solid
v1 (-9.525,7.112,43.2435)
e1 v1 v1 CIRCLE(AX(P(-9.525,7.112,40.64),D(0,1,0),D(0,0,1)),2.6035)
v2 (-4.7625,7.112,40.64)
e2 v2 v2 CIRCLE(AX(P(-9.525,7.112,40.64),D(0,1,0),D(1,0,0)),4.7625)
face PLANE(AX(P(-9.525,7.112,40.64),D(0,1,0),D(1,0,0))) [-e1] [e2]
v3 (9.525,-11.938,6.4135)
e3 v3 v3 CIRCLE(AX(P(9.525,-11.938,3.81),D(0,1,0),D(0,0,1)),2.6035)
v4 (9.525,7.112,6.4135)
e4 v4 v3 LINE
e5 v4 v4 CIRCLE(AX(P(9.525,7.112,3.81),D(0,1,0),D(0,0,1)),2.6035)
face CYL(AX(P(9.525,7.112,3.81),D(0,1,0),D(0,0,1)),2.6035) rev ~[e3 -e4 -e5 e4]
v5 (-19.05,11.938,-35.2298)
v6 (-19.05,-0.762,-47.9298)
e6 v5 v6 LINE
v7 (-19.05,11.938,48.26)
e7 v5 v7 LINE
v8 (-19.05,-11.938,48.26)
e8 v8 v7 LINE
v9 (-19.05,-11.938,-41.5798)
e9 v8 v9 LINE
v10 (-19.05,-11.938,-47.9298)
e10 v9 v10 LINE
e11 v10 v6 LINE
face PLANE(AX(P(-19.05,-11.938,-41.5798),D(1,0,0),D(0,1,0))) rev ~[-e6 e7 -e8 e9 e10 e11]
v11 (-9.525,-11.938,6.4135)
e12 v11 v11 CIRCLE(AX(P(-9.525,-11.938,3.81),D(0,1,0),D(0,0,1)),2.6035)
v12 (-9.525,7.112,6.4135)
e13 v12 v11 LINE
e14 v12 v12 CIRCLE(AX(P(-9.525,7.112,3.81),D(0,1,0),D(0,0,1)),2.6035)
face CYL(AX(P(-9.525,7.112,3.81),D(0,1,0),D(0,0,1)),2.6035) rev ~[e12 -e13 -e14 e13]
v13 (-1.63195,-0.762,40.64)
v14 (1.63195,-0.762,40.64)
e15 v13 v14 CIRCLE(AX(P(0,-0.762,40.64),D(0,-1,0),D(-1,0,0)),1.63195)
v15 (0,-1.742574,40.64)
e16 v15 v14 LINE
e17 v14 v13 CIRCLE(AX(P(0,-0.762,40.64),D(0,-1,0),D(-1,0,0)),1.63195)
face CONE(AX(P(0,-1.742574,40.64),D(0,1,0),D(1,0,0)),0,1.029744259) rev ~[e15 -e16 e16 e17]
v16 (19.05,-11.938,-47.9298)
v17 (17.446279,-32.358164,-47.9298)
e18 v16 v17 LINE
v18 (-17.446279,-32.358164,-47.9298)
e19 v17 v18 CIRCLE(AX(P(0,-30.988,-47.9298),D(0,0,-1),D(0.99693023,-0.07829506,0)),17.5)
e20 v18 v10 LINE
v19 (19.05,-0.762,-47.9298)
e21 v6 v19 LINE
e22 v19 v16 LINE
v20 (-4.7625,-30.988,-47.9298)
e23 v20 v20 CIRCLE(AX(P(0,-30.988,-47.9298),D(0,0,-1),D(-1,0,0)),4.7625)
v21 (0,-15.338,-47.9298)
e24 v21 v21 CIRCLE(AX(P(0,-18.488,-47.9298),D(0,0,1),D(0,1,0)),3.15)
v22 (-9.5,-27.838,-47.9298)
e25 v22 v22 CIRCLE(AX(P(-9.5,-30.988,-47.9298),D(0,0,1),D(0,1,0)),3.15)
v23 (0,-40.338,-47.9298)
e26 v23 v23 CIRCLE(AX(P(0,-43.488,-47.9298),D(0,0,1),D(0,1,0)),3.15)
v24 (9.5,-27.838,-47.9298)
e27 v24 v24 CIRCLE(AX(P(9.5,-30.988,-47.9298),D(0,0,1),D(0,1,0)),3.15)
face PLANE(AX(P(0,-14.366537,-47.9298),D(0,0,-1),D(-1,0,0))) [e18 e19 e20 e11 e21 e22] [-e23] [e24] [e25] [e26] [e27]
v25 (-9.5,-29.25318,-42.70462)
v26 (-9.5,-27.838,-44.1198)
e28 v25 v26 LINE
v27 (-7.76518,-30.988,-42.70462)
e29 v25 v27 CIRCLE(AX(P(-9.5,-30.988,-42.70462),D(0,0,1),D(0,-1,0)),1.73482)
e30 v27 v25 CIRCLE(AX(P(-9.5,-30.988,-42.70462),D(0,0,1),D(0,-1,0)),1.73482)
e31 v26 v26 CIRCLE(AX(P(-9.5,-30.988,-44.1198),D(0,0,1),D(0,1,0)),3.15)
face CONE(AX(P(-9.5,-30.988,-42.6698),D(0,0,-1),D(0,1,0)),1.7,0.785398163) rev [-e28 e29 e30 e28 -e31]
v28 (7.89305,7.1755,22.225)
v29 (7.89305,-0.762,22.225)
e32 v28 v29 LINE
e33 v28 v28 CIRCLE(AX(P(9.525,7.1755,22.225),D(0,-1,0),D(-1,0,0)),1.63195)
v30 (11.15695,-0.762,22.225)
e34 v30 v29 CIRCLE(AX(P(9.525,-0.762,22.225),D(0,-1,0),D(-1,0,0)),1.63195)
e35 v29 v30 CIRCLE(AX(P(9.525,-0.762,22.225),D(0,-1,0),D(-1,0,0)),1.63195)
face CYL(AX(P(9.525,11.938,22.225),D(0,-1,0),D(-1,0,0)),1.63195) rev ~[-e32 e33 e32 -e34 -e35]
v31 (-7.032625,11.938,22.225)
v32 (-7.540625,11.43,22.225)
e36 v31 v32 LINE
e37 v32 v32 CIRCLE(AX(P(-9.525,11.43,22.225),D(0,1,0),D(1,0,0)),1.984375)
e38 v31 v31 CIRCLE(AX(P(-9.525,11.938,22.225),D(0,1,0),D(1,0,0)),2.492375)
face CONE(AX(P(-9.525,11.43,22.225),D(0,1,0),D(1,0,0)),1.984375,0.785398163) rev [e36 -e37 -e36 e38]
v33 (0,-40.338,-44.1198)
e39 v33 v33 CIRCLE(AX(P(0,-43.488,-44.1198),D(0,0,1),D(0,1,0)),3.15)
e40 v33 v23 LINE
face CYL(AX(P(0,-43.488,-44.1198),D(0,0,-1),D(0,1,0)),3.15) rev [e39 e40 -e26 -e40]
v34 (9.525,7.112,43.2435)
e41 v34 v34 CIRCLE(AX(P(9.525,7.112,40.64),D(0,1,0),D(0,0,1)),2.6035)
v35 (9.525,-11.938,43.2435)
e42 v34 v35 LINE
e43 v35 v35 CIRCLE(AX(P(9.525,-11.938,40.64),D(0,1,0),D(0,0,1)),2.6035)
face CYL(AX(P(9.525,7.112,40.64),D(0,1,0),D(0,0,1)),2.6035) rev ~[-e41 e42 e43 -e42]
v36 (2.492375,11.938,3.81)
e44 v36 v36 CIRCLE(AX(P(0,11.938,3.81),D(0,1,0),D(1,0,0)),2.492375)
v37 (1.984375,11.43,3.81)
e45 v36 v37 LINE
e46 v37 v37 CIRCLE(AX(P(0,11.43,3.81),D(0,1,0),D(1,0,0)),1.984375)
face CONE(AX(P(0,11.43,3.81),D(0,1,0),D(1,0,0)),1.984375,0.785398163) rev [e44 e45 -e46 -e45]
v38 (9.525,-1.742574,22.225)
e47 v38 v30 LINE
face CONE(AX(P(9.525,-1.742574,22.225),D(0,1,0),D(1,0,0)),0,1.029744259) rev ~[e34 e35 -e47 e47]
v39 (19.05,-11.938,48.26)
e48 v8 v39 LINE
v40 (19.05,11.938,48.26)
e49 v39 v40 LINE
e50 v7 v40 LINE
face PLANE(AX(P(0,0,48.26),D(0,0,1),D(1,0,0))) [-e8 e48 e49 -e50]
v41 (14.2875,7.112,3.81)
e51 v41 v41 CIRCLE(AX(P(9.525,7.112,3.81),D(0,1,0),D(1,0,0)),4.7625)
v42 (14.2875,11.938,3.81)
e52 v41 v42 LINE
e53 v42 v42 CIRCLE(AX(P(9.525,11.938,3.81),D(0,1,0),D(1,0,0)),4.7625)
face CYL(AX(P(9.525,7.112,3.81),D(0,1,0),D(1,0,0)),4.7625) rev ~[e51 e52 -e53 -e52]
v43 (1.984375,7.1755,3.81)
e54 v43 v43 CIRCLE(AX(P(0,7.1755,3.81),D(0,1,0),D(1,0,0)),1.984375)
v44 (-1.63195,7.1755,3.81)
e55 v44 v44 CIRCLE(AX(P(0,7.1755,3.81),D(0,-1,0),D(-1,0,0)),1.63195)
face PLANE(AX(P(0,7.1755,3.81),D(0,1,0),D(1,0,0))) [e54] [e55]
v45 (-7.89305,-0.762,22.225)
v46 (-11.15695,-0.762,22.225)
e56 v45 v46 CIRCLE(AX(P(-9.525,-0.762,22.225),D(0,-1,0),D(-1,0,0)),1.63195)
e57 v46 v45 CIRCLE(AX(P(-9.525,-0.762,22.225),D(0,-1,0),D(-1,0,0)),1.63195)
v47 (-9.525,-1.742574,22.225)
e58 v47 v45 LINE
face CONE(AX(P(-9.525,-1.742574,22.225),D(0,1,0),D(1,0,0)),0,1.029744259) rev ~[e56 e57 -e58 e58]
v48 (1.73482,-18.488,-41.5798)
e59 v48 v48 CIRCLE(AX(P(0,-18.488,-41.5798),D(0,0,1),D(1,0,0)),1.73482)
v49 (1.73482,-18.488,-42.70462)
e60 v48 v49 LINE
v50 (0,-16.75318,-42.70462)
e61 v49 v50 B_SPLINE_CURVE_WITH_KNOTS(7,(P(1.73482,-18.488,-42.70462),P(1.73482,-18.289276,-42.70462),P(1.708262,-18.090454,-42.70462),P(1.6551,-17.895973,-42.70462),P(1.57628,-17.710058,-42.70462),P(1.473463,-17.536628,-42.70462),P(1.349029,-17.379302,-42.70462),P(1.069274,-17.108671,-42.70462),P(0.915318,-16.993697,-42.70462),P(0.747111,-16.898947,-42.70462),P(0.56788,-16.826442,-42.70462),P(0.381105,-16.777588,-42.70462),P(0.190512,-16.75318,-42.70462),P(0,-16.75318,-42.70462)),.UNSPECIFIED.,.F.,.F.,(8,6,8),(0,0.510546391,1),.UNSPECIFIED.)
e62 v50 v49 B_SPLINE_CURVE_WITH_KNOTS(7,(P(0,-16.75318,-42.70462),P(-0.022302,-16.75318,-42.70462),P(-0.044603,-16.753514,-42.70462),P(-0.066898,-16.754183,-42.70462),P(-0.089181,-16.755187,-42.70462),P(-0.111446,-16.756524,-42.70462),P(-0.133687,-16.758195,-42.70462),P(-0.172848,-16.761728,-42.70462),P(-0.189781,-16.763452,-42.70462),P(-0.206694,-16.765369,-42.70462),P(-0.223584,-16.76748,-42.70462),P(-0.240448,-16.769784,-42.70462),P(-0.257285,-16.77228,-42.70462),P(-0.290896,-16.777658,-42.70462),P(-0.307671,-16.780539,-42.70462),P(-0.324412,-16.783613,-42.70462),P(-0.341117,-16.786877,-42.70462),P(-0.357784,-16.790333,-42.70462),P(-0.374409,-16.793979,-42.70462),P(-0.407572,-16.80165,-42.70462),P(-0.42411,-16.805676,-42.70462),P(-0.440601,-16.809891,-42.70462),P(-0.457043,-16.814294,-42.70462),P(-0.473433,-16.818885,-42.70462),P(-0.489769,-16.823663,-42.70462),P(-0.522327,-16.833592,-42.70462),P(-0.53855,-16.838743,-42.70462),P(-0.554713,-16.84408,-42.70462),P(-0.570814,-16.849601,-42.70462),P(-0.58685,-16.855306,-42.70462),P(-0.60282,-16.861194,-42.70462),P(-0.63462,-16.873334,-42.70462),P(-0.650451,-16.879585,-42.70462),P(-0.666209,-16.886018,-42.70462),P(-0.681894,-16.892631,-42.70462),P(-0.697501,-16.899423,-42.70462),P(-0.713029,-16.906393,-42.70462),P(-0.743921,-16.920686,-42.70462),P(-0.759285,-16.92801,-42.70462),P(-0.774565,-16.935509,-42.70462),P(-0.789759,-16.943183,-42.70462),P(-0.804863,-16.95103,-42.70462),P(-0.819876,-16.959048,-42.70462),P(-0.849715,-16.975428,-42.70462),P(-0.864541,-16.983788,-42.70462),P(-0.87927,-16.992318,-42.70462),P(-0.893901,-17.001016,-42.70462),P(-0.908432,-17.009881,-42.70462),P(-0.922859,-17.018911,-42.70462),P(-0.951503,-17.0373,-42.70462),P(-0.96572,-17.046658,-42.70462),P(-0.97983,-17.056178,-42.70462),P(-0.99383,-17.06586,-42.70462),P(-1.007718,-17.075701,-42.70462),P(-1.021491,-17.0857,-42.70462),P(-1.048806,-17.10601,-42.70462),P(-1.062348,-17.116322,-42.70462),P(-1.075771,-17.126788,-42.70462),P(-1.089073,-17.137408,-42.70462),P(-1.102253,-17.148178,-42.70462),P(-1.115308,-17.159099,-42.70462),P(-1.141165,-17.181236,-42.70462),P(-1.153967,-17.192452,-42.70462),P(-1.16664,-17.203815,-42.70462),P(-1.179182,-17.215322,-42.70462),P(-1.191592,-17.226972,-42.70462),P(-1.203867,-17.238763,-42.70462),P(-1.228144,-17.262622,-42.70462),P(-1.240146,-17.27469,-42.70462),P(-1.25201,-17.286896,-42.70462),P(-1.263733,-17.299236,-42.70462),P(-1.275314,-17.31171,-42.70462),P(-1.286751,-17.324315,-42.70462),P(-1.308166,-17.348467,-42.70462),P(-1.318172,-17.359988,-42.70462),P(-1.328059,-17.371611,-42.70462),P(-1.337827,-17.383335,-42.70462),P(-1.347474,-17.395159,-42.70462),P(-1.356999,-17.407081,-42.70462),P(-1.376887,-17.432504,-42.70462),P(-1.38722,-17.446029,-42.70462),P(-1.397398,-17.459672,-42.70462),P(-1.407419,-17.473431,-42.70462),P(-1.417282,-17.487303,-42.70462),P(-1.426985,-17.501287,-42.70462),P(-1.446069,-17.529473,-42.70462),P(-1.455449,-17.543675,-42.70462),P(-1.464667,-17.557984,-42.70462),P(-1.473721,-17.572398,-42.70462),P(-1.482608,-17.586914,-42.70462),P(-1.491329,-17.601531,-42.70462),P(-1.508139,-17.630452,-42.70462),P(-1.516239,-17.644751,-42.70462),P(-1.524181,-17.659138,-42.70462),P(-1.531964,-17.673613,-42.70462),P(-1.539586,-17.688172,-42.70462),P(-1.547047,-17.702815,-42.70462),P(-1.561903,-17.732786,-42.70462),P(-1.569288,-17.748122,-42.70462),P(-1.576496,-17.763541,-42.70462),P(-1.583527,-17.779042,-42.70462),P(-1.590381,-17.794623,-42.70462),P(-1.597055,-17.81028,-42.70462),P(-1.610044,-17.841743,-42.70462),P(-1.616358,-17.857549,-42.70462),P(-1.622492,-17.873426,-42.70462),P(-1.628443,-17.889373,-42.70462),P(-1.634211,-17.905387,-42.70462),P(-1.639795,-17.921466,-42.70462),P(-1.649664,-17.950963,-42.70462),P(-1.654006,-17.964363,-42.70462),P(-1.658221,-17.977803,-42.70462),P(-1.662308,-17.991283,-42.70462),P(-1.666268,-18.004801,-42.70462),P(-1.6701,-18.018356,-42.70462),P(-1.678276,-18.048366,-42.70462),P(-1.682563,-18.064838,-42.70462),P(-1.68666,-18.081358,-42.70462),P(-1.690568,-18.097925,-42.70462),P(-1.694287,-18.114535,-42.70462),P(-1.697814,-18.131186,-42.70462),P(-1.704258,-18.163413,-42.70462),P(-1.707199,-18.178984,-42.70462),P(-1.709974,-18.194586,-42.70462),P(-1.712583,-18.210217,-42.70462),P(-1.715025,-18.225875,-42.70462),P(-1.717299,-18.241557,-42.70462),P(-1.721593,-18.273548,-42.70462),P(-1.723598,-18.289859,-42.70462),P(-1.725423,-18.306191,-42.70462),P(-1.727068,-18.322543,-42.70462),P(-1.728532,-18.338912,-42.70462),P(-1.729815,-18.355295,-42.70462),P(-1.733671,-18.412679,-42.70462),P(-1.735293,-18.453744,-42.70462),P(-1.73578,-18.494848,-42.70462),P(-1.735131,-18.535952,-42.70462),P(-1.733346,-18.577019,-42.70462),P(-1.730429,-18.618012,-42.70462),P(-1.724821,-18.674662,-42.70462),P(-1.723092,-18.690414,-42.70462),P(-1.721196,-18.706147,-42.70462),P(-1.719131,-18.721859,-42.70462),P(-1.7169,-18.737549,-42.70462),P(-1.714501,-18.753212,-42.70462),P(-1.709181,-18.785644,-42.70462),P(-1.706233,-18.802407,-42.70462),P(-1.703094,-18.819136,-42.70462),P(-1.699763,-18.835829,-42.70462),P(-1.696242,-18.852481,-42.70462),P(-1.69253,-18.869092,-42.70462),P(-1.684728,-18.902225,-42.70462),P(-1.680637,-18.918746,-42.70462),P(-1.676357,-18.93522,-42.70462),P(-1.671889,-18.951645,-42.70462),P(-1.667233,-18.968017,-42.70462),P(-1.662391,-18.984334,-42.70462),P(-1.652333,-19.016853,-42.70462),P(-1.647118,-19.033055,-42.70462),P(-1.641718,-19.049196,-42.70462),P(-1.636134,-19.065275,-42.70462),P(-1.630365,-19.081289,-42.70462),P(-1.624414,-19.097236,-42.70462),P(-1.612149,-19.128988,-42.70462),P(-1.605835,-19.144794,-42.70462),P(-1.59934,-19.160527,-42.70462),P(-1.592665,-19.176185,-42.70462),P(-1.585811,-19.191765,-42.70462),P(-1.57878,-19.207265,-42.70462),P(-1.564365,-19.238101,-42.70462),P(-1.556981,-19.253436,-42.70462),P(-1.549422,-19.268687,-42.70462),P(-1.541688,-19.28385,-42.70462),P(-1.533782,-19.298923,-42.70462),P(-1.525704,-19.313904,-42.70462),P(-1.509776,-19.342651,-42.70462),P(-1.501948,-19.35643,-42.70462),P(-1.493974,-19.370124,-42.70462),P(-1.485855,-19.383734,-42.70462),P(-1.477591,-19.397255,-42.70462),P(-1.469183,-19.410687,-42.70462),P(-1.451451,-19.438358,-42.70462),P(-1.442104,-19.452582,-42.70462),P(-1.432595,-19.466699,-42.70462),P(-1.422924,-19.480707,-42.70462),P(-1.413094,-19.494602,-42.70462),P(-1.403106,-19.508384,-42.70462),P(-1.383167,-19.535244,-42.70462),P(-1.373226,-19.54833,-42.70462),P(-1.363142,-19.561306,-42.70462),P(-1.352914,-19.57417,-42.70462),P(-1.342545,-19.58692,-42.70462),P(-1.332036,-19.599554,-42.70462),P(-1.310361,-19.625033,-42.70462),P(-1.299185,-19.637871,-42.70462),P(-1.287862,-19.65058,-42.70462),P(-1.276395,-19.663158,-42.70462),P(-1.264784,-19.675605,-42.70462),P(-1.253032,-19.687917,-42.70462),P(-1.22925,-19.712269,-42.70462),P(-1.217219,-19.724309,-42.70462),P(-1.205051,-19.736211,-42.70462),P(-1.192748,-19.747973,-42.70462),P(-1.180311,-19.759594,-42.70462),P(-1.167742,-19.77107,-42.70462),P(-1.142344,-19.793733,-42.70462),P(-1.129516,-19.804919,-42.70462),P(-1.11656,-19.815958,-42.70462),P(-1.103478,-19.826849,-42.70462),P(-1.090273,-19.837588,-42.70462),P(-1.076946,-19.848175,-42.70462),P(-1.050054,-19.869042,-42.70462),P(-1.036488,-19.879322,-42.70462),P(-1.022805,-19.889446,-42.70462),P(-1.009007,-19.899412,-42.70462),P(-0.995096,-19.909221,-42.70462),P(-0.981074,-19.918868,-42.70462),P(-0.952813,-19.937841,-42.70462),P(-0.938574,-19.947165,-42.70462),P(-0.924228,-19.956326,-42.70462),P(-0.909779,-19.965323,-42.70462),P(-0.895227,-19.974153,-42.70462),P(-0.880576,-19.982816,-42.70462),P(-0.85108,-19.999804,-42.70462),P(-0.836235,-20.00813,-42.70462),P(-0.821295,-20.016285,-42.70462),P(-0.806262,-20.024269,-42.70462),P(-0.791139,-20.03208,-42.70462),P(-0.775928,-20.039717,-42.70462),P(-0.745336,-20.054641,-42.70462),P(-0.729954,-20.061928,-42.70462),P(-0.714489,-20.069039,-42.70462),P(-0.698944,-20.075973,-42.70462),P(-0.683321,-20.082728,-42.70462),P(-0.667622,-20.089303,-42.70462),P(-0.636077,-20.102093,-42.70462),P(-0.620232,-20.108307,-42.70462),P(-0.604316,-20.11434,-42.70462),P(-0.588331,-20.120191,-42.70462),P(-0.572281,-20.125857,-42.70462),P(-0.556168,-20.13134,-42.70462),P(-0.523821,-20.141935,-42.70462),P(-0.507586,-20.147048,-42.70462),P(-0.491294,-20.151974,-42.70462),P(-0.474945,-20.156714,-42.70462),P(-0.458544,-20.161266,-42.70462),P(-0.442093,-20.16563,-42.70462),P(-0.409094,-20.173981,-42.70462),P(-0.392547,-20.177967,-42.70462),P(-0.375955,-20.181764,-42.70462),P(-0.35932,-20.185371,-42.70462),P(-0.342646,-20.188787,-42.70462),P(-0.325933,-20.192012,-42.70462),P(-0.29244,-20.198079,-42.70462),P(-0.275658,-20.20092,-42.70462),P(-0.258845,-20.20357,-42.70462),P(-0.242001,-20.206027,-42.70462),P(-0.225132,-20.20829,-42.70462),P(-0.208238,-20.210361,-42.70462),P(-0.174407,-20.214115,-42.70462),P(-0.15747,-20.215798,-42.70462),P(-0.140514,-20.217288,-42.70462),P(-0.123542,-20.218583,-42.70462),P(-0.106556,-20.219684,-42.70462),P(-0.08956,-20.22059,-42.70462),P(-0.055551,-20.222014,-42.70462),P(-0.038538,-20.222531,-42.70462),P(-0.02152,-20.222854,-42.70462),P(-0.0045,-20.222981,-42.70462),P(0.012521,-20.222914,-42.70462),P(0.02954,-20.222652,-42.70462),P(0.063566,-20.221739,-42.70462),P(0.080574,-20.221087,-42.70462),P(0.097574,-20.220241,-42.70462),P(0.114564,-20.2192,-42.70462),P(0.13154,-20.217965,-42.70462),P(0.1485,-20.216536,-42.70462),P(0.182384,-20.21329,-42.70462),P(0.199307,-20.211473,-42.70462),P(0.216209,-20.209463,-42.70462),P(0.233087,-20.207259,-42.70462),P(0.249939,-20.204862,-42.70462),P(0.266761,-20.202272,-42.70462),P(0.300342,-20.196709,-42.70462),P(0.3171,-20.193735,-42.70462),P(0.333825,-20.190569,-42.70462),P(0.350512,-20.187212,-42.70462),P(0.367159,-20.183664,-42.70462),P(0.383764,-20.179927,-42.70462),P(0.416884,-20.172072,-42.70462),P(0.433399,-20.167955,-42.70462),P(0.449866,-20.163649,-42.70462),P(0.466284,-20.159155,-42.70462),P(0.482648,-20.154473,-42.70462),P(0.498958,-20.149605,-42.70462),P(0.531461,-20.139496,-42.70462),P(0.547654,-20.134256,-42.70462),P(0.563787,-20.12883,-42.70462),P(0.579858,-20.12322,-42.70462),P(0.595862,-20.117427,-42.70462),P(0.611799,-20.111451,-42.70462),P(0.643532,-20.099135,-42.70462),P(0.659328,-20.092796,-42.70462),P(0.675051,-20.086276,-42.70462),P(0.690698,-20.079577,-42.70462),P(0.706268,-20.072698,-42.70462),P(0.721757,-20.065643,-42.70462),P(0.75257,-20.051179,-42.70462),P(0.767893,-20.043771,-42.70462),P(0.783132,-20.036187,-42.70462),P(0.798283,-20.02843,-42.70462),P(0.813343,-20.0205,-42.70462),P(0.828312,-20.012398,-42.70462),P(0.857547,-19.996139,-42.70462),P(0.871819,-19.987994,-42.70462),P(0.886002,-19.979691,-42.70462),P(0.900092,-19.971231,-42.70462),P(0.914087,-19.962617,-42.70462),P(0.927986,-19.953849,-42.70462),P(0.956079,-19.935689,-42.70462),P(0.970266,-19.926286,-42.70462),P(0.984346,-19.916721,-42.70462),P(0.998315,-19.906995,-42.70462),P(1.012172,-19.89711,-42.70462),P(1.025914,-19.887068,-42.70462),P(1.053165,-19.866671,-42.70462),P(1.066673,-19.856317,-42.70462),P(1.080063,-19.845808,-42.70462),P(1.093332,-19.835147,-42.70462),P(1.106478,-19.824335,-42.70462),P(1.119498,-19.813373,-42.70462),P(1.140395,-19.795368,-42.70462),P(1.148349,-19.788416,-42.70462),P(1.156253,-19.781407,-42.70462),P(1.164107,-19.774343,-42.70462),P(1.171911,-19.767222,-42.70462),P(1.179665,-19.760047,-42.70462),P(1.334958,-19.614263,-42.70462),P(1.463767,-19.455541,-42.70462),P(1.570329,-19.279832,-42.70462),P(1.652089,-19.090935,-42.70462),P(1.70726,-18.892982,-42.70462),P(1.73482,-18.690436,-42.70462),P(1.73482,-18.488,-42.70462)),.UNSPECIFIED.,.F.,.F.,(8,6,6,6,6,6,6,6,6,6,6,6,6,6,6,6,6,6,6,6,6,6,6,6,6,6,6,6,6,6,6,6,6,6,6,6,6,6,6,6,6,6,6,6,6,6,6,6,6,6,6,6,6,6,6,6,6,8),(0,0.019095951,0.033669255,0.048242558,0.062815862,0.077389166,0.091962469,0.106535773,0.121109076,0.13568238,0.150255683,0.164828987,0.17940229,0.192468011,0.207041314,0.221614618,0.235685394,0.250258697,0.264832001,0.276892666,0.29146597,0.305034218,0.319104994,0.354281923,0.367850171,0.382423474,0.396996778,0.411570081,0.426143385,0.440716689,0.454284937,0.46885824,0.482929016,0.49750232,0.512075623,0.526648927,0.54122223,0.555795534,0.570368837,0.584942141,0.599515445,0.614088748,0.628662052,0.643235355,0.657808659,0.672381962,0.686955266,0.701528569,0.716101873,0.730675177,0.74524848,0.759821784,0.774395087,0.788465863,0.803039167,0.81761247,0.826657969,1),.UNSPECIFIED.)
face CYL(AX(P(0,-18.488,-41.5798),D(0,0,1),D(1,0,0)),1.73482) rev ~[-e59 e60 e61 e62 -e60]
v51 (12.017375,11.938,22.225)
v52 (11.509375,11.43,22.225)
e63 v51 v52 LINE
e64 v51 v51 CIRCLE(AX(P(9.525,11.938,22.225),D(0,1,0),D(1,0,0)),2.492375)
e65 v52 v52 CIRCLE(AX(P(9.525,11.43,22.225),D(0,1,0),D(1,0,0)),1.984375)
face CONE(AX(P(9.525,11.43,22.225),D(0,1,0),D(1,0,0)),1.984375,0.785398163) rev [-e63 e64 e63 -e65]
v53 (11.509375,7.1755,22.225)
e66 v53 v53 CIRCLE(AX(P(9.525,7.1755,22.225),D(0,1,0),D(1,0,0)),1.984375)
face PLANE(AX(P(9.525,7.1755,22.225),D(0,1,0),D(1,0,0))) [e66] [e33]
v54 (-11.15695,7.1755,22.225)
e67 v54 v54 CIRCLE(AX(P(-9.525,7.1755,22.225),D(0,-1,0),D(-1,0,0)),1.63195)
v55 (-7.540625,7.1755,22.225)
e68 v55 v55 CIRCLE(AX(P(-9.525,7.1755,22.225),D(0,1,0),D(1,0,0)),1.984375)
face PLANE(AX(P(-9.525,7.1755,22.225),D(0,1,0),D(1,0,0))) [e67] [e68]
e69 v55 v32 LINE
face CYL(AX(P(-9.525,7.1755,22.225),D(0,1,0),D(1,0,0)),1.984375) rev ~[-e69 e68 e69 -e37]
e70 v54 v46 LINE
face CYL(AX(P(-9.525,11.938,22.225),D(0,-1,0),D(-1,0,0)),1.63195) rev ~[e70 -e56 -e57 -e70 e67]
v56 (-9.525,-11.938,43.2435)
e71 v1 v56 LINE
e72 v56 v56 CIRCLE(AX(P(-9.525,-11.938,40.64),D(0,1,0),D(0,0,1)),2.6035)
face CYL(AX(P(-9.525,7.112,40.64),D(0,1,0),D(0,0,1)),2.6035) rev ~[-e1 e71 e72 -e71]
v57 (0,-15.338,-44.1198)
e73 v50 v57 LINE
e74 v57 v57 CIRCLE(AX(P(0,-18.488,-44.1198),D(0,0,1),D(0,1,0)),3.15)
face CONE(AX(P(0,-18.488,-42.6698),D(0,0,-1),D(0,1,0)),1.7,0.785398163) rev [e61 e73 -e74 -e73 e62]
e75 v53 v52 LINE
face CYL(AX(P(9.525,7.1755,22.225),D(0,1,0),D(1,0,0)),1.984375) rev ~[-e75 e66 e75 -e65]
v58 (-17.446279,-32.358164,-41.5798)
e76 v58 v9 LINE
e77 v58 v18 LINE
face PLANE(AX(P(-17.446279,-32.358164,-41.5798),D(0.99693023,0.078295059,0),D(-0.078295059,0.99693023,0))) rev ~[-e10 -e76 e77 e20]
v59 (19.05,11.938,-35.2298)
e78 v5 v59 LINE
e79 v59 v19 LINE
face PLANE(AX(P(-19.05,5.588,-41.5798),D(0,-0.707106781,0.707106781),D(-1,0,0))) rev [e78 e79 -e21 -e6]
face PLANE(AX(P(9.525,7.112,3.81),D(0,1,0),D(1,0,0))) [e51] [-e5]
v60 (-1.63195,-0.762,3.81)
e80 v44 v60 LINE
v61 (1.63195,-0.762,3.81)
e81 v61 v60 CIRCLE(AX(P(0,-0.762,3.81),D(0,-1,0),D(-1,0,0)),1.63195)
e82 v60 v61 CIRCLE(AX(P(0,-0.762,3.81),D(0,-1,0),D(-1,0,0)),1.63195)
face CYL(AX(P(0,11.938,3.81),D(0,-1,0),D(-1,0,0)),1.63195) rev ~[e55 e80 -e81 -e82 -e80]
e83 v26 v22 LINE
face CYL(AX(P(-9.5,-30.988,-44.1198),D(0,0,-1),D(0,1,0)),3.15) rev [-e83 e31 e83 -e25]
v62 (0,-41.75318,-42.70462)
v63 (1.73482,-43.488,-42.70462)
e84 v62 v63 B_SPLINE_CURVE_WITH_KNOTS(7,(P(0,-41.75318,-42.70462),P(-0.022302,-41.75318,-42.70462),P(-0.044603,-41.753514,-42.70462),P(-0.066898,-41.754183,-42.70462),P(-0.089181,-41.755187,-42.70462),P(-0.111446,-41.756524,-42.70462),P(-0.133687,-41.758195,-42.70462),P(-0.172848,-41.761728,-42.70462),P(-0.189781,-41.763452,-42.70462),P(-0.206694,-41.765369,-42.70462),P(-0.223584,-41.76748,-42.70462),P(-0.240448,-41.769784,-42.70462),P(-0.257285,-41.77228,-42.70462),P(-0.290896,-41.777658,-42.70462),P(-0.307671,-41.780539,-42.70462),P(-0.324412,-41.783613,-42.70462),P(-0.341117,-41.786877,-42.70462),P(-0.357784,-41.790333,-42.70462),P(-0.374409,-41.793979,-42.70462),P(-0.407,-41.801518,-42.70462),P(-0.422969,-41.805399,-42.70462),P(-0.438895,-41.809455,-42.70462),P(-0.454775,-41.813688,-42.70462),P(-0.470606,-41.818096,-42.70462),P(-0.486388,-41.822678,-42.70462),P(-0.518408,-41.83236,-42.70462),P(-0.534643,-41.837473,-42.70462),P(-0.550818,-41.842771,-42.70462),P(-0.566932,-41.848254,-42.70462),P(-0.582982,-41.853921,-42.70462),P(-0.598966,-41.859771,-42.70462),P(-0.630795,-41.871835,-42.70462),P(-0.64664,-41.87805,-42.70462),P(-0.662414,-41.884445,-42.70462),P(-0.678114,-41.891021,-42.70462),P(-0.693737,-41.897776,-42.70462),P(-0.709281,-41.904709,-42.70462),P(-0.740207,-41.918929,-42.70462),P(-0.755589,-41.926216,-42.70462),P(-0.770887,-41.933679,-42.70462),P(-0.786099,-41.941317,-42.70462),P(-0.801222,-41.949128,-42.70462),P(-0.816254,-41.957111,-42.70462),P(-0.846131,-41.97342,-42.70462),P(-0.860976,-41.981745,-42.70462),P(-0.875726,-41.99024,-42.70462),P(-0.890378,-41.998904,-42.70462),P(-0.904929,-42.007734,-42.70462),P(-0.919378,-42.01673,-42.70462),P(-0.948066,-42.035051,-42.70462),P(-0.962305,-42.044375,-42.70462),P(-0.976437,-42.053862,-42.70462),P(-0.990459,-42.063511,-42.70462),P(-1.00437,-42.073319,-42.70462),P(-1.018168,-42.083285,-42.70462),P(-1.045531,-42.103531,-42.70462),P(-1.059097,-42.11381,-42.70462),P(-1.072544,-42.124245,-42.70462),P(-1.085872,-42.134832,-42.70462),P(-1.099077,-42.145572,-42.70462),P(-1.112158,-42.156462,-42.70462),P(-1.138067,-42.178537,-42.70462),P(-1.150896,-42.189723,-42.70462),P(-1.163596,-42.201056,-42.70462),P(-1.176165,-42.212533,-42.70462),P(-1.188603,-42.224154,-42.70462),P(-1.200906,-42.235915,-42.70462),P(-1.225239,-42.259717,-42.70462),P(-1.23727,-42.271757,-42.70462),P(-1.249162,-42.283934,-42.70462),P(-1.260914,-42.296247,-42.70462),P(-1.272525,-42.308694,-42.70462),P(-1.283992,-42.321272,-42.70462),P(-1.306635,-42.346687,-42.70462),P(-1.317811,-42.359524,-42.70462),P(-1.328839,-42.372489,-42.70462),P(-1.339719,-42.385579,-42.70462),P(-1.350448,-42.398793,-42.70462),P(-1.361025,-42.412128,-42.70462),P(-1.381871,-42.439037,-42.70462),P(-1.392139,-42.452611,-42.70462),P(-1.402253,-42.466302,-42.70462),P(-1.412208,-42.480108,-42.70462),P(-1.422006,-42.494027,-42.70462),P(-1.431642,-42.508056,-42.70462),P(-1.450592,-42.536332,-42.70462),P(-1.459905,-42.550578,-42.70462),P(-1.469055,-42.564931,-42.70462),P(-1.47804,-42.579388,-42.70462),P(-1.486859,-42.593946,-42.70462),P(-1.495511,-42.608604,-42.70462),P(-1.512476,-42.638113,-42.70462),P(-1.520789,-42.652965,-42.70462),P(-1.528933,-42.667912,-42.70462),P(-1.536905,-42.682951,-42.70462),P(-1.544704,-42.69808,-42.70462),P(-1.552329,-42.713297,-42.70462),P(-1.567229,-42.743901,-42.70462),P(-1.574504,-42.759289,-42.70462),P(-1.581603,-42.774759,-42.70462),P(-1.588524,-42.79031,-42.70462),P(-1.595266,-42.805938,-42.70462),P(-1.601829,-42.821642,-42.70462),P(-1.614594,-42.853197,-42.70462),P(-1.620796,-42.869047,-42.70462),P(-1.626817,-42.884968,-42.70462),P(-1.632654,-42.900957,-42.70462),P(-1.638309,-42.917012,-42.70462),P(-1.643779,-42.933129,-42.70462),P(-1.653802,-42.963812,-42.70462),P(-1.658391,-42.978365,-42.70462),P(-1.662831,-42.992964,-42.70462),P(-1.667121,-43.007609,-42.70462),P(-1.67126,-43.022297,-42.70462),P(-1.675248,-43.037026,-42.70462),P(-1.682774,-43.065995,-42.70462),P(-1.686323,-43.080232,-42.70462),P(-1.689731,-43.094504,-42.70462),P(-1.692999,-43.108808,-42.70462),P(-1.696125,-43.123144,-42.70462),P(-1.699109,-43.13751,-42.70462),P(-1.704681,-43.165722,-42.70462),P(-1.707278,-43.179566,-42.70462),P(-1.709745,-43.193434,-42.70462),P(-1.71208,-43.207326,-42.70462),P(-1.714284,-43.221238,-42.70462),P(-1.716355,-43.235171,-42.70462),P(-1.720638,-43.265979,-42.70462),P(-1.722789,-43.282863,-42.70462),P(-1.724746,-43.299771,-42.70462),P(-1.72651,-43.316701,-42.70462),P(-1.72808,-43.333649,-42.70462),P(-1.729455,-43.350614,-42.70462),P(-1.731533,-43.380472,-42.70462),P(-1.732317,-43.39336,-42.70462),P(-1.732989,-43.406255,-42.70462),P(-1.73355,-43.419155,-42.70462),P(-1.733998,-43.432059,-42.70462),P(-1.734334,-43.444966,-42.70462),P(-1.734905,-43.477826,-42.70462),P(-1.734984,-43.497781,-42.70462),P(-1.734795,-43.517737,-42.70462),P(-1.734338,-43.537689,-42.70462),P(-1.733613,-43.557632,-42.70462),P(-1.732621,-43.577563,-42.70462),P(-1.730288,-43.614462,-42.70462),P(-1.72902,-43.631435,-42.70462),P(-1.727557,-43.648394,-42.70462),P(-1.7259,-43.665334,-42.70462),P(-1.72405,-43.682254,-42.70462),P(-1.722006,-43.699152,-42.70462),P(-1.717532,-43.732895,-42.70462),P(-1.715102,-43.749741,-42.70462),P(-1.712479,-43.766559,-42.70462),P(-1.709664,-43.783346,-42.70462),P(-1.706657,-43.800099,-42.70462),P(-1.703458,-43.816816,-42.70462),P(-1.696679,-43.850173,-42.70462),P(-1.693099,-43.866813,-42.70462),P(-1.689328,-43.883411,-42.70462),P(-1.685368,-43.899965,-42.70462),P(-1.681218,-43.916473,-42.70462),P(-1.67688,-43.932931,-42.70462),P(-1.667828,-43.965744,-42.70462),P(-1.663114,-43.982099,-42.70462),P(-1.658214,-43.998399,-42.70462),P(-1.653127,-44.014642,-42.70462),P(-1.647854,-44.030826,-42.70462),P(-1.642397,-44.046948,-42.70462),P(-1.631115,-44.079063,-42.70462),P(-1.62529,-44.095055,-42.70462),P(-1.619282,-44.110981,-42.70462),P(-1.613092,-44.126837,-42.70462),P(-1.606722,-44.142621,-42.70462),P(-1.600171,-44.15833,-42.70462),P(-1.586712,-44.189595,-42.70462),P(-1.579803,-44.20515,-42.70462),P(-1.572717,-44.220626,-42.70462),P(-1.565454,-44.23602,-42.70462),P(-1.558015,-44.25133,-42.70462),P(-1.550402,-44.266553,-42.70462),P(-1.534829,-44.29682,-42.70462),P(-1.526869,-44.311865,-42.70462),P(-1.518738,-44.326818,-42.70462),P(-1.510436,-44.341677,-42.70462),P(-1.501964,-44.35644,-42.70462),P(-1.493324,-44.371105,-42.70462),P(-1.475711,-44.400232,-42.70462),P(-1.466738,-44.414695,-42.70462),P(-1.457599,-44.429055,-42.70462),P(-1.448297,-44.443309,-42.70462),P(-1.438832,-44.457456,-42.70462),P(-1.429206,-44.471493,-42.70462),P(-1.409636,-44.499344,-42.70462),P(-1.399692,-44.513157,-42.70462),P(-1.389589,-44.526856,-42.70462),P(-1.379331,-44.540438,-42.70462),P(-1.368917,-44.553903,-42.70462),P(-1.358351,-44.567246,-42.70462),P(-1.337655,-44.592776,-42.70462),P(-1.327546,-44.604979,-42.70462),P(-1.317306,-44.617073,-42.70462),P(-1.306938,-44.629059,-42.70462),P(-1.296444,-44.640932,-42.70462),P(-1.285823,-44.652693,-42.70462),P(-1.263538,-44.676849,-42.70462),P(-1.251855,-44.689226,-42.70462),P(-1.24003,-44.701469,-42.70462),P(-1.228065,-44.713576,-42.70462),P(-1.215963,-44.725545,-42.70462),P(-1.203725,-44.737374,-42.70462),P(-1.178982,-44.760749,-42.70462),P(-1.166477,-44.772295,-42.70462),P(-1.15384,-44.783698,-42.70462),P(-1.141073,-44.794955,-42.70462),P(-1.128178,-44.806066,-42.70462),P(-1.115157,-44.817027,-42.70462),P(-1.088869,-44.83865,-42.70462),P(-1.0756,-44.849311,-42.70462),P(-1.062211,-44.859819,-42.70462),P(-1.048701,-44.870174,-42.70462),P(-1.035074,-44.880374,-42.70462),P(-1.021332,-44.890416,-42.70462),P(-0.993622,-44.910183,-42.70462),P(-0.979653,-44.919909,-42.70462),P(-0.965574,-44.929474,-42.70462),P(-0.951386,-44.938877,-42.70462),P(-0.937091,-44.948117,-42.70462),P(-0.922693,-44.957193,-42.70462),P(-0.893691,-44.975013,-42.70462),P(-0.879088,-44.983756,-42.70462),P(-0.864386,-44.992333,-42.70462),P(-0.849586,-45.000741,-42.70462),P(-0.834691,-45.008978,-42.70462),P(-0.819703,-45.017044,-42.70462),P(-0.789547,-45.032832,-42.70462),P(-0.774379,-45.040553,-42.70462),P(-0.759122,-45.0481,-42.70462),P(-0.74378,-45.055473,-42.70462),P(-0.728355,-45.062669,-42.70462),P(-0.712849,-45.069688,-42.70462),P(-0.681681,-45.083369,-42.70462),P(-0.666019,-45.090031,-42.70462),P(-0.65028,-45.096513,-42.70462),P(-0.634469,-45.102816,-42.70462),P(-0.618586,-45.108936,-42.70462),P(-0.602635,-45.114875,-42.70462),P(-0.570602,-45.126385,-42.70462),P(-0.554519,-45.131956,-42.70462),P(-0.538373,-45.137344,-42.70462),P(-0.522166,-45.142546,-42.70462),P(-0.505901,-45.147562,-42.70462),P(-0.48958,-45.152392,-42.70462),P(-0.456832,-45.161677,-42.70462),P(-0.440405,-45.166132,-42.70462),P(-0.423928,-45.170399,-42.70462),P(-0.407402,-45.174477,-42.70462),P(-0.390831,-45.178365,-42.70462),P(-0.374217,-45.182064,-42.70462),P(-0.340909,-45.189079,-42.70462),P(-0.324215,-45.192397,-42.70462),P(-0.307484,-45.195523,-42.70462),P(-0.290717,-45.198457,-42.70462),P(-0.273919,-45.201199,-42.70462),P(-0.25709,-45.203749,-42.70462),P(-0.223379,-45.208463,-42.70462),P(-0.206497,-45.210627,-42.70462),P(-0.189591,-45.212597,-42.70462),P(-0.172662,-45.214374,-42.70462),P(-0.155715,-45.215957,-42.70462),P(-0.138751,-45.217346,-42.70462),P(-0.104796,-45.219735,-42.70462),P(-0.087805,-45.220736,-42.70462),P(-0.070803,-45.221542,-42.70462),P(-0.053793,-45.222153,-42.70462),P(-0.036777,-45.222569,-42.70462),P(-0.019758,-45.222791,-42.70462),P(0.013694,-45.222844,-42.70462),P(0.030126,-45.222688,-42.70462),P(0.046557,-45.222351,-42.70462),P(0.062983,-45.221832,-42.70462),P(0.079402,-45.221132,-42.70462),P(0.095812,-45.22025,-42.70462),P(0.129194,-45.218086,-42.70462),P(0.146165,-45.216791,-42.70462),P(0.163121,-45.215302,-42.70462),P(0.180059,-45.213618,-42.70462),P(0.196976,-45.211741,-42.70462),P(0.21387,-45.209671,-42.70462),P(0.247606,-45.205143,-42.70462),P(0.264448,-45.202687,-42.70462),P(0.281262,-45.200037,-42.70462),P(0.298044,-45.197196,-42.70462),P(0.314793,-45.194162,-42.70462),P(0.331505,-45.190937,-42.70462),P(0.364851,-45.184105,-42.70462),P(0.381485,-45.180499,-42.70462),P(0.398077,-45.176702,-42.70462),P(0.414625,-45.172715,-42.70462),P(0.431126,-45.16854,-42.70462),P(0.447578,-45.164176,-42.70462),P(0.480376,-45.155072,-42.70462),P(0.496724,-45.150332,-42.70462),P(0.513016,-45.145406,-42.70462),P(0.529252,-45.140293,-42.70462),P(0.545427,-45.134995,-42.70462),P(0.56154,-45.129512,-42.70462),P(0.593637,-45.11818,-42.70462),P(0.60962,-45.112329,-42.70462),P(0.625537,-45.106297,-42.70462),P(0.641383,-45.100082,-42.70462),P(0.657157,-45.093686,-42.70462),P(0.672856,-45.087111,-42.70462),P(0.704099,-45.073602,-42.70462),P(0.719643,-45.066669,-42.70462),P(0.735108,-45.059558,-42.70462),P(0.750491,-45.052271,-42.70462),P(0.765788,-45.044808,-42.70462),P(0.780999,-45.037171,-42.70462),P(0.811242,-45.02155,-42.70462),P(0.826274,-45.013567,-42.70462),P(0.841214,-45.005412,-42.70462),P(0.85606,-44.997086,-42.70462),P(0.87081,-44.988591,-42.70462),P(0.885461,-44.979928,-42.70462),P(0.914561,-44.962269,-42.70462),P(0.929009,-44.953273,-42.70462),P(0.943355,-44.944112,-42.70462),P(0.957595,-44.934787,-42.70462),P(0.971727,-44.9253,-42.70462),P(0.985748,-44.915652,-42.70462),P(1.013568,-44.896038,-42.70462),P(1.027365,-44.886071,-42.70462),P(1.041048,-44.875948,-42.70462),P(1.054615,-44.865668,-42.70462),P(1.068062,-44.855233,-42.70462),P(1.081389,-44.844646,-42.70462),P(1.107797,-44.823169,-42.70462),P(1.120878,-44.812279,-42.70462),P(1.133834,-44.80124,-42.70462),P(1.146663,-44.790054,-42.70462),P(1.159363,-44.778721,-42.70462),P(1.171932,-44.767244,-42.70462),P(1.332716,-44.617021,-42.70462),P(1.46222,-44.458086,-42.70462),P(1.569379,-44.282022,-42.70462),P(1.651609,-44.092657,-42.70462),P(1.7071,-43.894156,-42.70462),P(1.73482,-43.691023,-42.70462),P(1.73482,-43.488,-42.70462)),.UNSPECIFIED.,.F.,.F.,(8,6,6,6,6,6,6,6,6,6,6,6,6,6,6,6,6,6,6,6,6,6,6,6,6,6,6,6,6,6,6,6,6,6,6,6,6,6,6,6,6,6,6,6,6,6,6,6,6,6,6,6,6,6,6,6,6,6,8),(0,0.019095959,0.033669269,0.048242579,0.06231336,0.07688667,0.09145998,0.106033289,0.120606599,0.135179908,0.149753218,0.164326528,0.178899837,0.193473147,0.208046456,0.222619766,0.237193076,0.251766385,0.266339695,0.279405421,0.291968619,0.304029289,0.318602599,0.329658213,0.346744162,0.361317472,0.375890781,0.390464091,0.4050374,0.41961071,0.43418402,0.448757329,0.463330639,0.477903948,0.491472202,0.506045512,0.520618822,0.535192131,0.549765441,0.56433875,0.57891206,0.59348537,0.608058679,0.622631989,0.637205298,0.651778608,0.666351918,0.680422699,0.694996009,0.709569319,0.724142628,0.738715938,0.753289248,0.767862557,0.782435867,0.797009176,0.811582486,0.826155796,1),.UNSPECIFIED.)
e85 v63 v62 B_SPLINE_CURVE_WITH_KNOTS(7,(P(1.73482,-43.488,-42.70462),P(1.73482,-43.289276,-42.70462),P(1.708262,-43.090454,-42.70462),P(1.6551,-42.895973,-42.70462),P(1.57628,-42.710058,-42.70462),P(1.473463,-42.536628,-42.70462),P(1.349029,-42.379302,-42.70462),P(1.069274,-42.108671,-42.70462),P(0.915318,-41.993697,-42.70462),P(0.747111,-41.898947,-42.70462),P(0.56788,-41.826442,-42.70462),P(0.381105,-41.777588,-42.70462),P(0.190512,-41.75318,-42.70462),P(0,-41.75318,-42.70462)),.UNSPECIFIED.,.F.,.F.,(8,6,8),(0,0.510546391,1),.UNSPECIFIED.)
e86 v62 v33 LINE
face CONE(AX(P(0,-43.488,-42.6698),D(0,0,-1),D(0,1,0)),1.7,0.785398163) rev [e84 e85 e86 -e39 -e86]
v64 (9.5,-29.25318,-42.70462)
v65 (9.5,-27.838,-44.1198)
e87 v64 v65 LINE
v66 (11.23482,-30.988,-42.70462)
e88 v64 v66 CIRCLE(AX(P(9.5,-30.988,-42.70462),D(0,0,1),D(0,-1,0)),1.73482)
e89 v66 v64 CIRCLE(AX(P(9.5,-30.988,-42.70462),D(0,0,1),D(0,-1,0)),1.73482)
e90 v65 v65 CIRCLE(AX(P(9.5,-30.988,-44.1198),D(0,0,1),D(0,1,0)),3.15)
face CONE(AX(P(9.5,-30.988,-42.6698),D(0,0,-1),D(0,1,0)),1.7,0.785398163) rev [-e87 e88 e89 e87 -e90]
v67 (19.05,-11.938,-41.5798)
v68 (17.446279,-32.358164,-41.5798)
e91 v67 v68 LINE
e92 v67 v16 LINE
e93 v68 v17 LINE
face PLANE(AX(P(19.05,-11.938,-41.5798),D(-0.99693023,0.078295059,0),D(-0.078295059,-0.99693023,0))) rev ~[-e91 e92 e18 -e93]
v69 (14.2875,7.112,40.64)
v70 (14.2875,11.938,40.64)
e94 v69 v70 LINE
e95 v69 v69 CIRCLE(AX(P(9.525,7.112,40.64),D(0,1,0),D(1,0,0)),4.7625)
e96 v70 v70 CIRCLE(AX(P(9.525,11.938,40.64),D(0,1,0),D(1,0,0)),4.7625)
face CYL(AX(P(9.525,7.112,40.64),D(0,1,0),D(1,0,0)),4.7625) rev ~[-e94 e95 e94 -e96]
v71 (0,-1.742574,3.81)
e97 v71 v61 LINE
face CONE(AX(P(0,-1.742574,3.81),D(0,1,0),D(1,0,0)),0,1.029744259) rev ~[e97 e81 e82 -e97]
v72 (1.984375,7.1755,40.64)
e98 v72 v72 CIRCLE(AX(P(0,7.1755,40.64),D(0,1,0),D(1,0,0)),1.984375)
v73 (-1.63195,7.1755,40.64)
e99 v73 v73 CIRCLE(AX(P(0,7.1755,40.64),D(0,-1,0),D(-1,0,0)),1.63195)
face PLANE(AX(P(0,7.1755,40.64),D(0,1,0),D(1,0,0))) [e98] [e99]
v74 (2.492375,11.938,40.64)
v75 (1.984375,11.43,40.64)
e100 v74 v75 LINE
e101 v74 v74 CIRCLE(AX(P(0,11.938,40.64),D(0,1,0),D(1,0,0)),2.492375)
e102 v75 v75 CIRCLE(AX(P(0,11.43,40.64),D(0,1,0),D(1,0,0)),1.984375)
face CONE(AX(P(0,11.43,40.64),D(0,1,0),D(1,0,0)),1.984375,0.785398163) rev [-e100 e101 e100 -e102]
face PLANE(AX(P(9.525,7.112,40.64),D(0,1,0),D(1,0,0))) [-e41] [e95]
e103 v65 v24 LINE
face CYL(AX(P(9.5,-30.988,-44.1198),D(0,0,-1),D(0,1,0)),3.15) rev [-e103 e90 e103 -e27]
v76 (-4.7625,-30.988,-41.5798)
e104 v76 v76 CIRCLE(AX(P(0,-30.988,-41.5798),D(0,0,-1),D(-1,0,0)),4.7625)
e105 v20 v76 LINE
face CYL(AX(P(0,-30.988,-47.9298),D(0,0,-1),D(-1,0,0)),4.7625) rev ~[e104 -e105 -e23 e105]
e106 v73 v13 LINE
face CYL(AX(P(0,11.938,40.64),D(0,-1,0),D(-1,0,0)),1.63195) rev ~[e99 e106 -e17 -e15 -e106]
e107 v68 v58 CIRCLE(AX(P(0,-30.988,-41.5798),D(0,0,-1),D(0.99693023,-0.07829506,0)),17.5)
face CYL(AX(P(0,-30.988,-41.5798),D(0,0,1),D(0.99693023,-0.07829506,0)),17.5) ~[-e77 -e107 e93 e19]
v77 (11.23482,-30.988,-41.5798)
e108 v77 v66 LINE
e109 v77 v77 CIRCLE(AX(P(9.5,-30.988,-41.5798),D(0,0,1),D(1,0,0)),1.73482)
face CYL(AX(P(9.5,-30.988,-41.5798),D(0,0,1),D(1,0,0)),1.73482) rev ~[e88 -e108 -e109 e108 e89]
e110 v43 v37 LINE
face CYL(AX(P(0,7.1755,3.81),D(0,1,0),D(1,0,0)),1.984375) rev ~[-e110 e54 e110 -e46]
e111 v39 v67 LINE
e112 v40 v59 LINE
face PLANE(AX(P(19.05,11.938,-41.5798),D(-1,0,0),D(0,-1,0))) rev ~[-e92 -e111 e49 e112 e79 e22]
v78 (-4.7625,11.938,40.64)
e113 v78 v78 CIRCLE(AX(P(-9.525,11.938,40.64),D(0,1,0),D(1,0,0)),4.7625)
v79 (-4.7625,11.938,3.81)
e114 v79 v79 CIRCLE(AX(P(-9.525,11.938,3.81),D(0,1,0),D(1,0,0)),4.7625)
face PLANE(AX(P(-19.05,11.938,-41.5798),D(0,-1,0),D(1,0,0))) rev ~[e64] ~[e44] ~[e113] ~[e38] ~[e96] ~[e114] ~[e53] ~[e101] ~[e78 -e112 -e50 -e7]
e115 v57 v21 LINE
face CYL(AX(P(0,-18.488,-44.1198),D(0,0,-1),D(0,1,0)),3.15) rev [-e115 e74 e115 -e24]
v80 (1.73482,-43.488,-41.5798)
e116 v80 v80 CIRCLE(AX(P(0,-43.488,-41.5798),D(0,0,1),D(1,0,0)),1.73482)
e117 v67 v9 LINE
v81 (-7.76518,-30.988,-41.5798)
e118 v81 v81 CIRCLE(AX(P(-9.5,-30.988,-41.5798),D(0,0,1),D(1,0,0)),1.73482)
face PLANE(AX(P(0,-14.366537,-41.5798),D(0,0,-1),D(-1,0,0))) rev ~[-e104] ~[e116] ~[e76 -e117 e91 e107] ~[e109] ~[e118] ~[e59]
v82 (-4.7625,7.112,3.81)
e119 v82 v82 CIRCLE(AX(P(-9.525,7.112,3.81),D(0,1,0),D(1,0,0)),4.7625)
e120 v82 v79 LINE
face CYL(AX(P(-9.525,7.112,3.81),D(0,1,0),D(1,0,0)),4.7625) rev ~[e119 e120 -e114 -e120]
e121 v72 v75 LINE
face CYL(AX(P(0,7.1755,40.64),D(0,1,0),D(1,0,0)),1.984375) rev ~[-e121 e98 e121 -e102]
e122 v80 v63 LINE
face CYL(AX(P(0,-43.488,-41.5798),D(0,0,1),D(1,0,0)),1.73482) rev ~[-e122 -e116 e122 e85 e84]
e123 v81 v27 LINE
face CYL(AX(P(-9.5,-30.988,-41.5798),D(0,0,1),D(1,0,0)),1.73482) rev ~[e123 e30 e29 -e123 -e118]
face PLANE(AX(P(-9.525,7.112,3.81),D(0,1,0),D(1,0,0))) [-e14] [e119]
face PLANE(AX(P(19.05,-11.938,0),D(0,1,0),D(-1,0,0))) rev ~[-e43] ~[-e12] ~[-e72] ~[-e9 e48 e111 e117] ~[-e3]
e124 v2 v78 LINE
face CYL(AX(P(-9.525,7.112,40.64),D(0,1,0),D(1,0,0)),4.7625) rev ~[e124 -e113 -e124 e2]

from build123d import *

# Parameters (mm, degrees)
SKETCH1_W                                       = 38.1
SKETCH1_H                                       = 23.876
GEARBOX_MOUNT_DEPTH                             = 48.26
CBORE_FOR_4_SOCKET_HEAD_CAP_SCREW1_D            = 3.2639
CBORE_FOR_4_SOCKET_HEAD_CAP_SCREW1_DEPTH        = 12.7
CBORE_FOR_4_SOCKET_HEAD_CAP_SCREW1_CBORE_D      = 3.96875
CBORE_FOR_4_SOCKET_HEAD_CAP_SCREW1_CBORE_DEPTH  = 4.7625
CBORE_FOR_4_SOCKET_HEAD_CAP_SCREW1_TIP          = 0.980574487
INSERT_INSTALLATION_CHAMFERS_SIZE               = 0.508
SKETCH7_W                                       = 38.1
SKETCH7_H                                       = 23.876
MOTOR_MOUNT_EXTENSION_DEPTH                     = 41.5798
CBORE_FOR_10_SOCKET_HEAD_CAP_SCREW1_D           = 5.1054
CBORE_FOR_10_SOCKET_HEAD_CAP_SCREW1_CBORE_D     = 9.525
CBORE_FOR_10_SOCKET_HEAD_CAP_SCREW1_CBORE_DEPTH = 4.826
MOTOR_MOUNT_PLATE_DEPTH                         = 6.35
SHAFT_CLEARANCE_REACH                           = 111.391
SKETCH9_R                                       = 4.7625
CSK_FOR_M3_FLAT_HEAD_MACHINE_SCREW1_AT_2_COUNT  = 2
CSK_FOR_M3_FLAT_HEAD_MACHINE_SCREW1_AT_2_PITCH  = 19
CSK_FOR_M3_FLAT_HEAD_MACHINE_SCREW1_AT_3_COUNT  = 2
CSK_FOR_M3_FLAT_HEAD_MACHINE_SCREW1_AT_3_PITCH  = 15.700318468
CSK_FOR_M3_FLAT_HEAD_MACHINE_SCREW1_AT_4_COUNT  = 2
CSK_FOR_M3_FLAT_HEAD_MACHINE_SCREW1_AT_4_PITCH  = 15.700318468
CHAMFER2_SIZE                                   = 12.7
CUT_EXTRUDE1_REACH                              = 78.048
SKETCH12_R                                      = 2.6035
SKETCH13_R                                      = 1.73482
CUT_EXTRUDE2_DEPTH                              = 104.851713072


with BuildPart() as part:
    # Sketch1 → Gearbox Mount (new body)
    with BuildSketch(Plane.XY):
        Rectangle(SKETCH1_W, SKETCH1_H)
    extrude(amount=GEARBOX_MOUNT_DEPTH)

    # CBORE for #4 Socket Head Cap Screw1
    with Locations(Plane(origin=(0, 11.938, 0), x_dir=(1, 0, 0), z_dir=(0, 1, 0))):
        with Locations((0, -3.81), (-9.525, -22.225), (0, -40.64), (9.525, -22.225)):
            CounterBoreHole(CBORE_FOR_4_SOCKET_HEAD_CAP_SCREW1_D / 2, CBORE_FOR_4_SOCKET_HEAD_CAP_SCREW1_CBORE_D / 2, CBORE_FOR_4_SOCKET_HEAD_CAP_SCREW1_CBORE_DEPTH, depth=CBORE_FOR_4_SOCKET_HEAD_CAP_SCREW1_DEPTH)
            with Locations((0, 0, -(CBORE_FOR_4_SOCKET_HEAD_CAP_SCREW1_DEPTH + CBORE_FOR_4_SOCKET_HEAD_CAP_SCREW1_TIP / 2))):  # 118° drill point
                Cone(0, CBORE_FOR_4_SOCKET_HEAD_CAP_SCREW1_D / 2, CBORE_FOR_4_SOCKET_HEAD_CAP_SCREW1_TIP, mode=Mode.SUBTRACT)

    # Insert Installation Chamfers
    insert_installation_chamfers_edges = [part.edges().sort_by_distance(p)[0] for p in [
        (7.540625, 11.938, 22.225),
        (-1.984375, 11.938, 40.64),
        (-11.509375, 11.938, 22.225),
        (-1.984375, 11.938, 3.81),
    ]]
    chamfer(insert_installation_chamfers_edges, length=INSERT_INSTALLATION_CHAMFERS_SIZE)

    # Sketch7 → Motor Mount Extension (add)
    with BuildSketch(Plane(origin=(0, 0, 0), x_dir=(-1, 0, 0), z_dir=(0, 0, -1))):
        Rectangle(SKETCH7_W, SKETCH7_H)
    extrude(amount=MOTOR_MOUNT_EXTENSION_DEPTH)

    # CBORE for #10 Socket Head Cap Screw1 (through all)
    with Locations(Plane(origin=(0, 11.938, 0), x_dir=(1, 0, 0), z_dir=(0, 1, 0))):
        with Locations((-9.525, -40.64), (9.525, -40.64), (9.525, -3.81), (-9.525, -3.81)):
            CounterBoreHole(CBORE_FOR_10_SOCKET_HEAD_CAP_SCREW1_D / 2, CBORE_FOR_10_SOCKET_HEAD_CAP_SCREW1_CBORE_D / 2, CBORE_FOR_10_SOCKET_HEAD_CAP_SCREW1_CBORE_DEPTH)

    # Sketch8 → Motor Mount Plate (add)
    with BuildSketch(Plane(origin=(0, 0, -41.5798), x_dir=(-1, 0, 0), z_dir=(0, 0, -1))):
        with BuildLine():
            Line((19.05, 11.938), (-19.05, 11.938))
            Line((-19.05, 11.938), (-19.05, -11.938))
            Line((-19.05, -11.938), (-17.446279027, -32.358163541))
            ThreePointArc((-17.446279027, -32.358163541), (0, -48.488), (17.446279027, -32.358163541))
            Line((17.446279027, -32.358163541), (19.05, -11.938))
            Line((19.05, -11.938), (19.05, 11.938))
        make_face()
    extrude(amount=MOTOR_MOUNT_PLATE_DEPTH)

    # Sketch9 → Shaft Clearance (cut, up to next)
    with BuildSketch(Plane(origin=(0, 0, -47.9298), x_dir=(-1, 0, 0), z_dir=(0, 0, -1)), mode=Mode.PRIVATE) as shaft_clearance_sk1:
        with Locations((0, -30.988)):
            Circle(SKETCH9_R)
    shaft_clearance_tool1 = extrude(shaft_clearance_sk1.sketch, amount=-SHAFT_CLEARANCE_REACH, mode=Mode.PRIVATE) & part.part
    add(shaft_clearance_tool1.solids().sort_by_distance((0, -30.988, -47.9298))[0], mode=Mode.SUBTRACT)

    # Sketch10 → CSK for M3 Flat Head Machine Screw1 (revolve, cut)
    with BuildSketch(Plane(origin=(9.5, -30.988, -47.9298), x_dir=(0, 1, 0), z_dir=(1, 0, 0))):
        Polygon((0, 0), (0, 6.35), (1.7, 6.35), (1.7, 5.26), (3.15, 3.81), (3.15, 0), align=None)
    csk_for_m3_flat_head_machine_screw1 = revolve(axis=Axis((9.5, -30.988, -54.2798), (0, 0, 1)), mode=Mode.SUBTRACT)

    # CSK for M3 Flat Head Machine Screw1 at 2: CSK for M3 Flat Head Machine Screw1 ×2
    with Locations(*[(-i * CSK_FOR_M3_FLAT_HEAD_MACHINE_SCREW1_AT_2_PITCH, 0, 0) for i in range(1, CSK_FOR_M3_FLAT_HEAD_MACHINE_SCREW1_AT_2_COUNT)]):
        add(csk_for_m3_flat_head_machine_screw1, mode=Mode.SUBTRACT)

    # CSK for M3 Flat Head Machine Screw1 at 3: CSK for M3 Flat Head Machine Screw1 ×2
    with Locations(*[Vector(-0.6050832675335578, 0.7961621941231026, 0) * (i * CSK_FOR_M3_FLAT_HEAD_MACHINE_SCREW1_AT_3_PITCH) for i in range(1, CSK_FOR_M3_FLAT_HEAD_MACHINE_SCREW1_AT_3_COUNT)]):
        add(csk_for_m3_flat_head_machine_screw1, mode=Mode.SUBTRACT)

    # CSK for M3 Flat Head Machine Screw1 at 4: CSK for M3 Flat Head Machine Screw1 ×2
    with Locations(*[Vector(-0.605083267533558, -0.7961621941231024, 0) * (i * CSK_FOR_M3_FLAT_HEAD_MACHINE_SCREW1_AT_4_PITCH) for i in range(1, CSK_FOR_M3_FLAT_HEAD_MACHINE_SCREW1_AT_4_COUNT)]):
        add(csk_for_m3_flat_head_machine_screw1, mode=Mode.SUBTRACT)

    # Chamfer2
    chamfer2_edges = [part.edges().sort_by_distance(p)[0] for p in [
        (0, 11.938, -47.9298),
    ]]
    chamfer(chamfer2_edges, length=CHAMFER2_SIZE)

    # Sketch12 → Cut-Extrude1 (cut, up to next)
    with BuildSketch(Plane(origin=(0, 7.112, 0), x_dir=(1, 0, 0), z_dir=(0, 1, 0)), mode=Mode.PRIVATE) as cut_extrude1_sk1:
        with Locations(Location((-9.525, -3.81, 0), (0, 0, 270))):
            Circle(SKETCH12_R)
    cut_extrude1_tool1 = extrude(cut_extrude1_sk1.sketch, amount=-CUT_EXTRUDE1_REACH, mode=Mode.PRIVATE) & part.part
    # Sketch12 → Cut-Extrude1 (cut, up to next)
    with BuildSketch(Plane(origin=(0, 7.112, 0), x_dir=(1, 0, 0), z_dir=(0, 1, 0)), mode=Mode.PRIVATE) as cut_extrude1_sk2:
        with Locations(Location((9.525, -3.81, 0), (0, 0, 270))):
            Circle(SKETCH12_R)
    cut_extrude1_tool2 = extrude(cut_extrude1_sk2.sketch, amount=-CUT_EXTRUDE1_REACH, mode=Mode.PRIVATE) & part.part
    # Sketch12 → Cut-Extrude1 (cut, up to next)
    with BuildSketch(Plane(origin=(0, 7.112, 0), x_dir=(1, 0, 0), z_dir=(0, 1, 0)), mode=Mode.PRIVATE) as cut_extrude1_sk3:
        with Locations(Location((-9.525, -40.64, 0), (0, 0, 270))):
            Circle(SKETCH12_R)
    cut_extrude1_tool3 = extrude(cut_extrude1_sk3.sketch, amount=-CUT_EXTRUDE1_REACH, mode=Mode.PRIVATE) & part.part
    # Sketch12 → Cut-Extrude1 (cut, up to next)
    with BuildSketch(Plane(origin=(0, 7.112, 0), x_dir=(1, 0, 0), z_dir=(0, 1, 0)), mode=Mode.PRIVATE) as cut_extrude1_sk4:
        with Locations(Location((9.525, -40.64, 0), (0, 0, 270))):
            Circle(SKETCH12_R)
    cut_extrude1_tool4 = extrude(cut_extrude1_sk4.sketch, amount=-CUT_EXTRUDE1_REACH, mode=Mode.PRIVATE) & part.part
    add(cut_extrude1_tool1.solids().sort_by_distance((-9.525, 7.112, 3.81))[0], mode=Mode.SUBTRACT)
    add(cut_extrude1_tool2.solids().sort_by_distance((9.525, 7.112, 3.81))[0], mode=Mode.SUBTRACT)
    add(cut_extrude1_tool3.solids().sort_by_distance((-9.525, 7.112, 40.64))[0], mode=Mode.SUBTRACT)
    add(cut_extrude1_tool4.solids().sort_by_distance((9.525, 7.112, 40.64))[0], mode=Mode.SUBTRACT)

    # Sketch13 → Cut-Extrude2 (cut, through all)
    with BuildSketch(Plane.XY.offset(-41.5798)):
        with Locations((0, -18.488)):
            Circle(SKETCH13_R)
        with Locations((-9.5, -30.988)):
            Circle(SKETCH13_R)
        with Locations((9.5, -30.988)):
            Circle(SKETCH13_R)
        with Locations((0, -43.488)):
            Circle(SKETCH13_R)
    extrude(amount=-CUT_EXTRUDE2_DEPTH, mode=Mode.SUBTRACT)


solid = part.part
